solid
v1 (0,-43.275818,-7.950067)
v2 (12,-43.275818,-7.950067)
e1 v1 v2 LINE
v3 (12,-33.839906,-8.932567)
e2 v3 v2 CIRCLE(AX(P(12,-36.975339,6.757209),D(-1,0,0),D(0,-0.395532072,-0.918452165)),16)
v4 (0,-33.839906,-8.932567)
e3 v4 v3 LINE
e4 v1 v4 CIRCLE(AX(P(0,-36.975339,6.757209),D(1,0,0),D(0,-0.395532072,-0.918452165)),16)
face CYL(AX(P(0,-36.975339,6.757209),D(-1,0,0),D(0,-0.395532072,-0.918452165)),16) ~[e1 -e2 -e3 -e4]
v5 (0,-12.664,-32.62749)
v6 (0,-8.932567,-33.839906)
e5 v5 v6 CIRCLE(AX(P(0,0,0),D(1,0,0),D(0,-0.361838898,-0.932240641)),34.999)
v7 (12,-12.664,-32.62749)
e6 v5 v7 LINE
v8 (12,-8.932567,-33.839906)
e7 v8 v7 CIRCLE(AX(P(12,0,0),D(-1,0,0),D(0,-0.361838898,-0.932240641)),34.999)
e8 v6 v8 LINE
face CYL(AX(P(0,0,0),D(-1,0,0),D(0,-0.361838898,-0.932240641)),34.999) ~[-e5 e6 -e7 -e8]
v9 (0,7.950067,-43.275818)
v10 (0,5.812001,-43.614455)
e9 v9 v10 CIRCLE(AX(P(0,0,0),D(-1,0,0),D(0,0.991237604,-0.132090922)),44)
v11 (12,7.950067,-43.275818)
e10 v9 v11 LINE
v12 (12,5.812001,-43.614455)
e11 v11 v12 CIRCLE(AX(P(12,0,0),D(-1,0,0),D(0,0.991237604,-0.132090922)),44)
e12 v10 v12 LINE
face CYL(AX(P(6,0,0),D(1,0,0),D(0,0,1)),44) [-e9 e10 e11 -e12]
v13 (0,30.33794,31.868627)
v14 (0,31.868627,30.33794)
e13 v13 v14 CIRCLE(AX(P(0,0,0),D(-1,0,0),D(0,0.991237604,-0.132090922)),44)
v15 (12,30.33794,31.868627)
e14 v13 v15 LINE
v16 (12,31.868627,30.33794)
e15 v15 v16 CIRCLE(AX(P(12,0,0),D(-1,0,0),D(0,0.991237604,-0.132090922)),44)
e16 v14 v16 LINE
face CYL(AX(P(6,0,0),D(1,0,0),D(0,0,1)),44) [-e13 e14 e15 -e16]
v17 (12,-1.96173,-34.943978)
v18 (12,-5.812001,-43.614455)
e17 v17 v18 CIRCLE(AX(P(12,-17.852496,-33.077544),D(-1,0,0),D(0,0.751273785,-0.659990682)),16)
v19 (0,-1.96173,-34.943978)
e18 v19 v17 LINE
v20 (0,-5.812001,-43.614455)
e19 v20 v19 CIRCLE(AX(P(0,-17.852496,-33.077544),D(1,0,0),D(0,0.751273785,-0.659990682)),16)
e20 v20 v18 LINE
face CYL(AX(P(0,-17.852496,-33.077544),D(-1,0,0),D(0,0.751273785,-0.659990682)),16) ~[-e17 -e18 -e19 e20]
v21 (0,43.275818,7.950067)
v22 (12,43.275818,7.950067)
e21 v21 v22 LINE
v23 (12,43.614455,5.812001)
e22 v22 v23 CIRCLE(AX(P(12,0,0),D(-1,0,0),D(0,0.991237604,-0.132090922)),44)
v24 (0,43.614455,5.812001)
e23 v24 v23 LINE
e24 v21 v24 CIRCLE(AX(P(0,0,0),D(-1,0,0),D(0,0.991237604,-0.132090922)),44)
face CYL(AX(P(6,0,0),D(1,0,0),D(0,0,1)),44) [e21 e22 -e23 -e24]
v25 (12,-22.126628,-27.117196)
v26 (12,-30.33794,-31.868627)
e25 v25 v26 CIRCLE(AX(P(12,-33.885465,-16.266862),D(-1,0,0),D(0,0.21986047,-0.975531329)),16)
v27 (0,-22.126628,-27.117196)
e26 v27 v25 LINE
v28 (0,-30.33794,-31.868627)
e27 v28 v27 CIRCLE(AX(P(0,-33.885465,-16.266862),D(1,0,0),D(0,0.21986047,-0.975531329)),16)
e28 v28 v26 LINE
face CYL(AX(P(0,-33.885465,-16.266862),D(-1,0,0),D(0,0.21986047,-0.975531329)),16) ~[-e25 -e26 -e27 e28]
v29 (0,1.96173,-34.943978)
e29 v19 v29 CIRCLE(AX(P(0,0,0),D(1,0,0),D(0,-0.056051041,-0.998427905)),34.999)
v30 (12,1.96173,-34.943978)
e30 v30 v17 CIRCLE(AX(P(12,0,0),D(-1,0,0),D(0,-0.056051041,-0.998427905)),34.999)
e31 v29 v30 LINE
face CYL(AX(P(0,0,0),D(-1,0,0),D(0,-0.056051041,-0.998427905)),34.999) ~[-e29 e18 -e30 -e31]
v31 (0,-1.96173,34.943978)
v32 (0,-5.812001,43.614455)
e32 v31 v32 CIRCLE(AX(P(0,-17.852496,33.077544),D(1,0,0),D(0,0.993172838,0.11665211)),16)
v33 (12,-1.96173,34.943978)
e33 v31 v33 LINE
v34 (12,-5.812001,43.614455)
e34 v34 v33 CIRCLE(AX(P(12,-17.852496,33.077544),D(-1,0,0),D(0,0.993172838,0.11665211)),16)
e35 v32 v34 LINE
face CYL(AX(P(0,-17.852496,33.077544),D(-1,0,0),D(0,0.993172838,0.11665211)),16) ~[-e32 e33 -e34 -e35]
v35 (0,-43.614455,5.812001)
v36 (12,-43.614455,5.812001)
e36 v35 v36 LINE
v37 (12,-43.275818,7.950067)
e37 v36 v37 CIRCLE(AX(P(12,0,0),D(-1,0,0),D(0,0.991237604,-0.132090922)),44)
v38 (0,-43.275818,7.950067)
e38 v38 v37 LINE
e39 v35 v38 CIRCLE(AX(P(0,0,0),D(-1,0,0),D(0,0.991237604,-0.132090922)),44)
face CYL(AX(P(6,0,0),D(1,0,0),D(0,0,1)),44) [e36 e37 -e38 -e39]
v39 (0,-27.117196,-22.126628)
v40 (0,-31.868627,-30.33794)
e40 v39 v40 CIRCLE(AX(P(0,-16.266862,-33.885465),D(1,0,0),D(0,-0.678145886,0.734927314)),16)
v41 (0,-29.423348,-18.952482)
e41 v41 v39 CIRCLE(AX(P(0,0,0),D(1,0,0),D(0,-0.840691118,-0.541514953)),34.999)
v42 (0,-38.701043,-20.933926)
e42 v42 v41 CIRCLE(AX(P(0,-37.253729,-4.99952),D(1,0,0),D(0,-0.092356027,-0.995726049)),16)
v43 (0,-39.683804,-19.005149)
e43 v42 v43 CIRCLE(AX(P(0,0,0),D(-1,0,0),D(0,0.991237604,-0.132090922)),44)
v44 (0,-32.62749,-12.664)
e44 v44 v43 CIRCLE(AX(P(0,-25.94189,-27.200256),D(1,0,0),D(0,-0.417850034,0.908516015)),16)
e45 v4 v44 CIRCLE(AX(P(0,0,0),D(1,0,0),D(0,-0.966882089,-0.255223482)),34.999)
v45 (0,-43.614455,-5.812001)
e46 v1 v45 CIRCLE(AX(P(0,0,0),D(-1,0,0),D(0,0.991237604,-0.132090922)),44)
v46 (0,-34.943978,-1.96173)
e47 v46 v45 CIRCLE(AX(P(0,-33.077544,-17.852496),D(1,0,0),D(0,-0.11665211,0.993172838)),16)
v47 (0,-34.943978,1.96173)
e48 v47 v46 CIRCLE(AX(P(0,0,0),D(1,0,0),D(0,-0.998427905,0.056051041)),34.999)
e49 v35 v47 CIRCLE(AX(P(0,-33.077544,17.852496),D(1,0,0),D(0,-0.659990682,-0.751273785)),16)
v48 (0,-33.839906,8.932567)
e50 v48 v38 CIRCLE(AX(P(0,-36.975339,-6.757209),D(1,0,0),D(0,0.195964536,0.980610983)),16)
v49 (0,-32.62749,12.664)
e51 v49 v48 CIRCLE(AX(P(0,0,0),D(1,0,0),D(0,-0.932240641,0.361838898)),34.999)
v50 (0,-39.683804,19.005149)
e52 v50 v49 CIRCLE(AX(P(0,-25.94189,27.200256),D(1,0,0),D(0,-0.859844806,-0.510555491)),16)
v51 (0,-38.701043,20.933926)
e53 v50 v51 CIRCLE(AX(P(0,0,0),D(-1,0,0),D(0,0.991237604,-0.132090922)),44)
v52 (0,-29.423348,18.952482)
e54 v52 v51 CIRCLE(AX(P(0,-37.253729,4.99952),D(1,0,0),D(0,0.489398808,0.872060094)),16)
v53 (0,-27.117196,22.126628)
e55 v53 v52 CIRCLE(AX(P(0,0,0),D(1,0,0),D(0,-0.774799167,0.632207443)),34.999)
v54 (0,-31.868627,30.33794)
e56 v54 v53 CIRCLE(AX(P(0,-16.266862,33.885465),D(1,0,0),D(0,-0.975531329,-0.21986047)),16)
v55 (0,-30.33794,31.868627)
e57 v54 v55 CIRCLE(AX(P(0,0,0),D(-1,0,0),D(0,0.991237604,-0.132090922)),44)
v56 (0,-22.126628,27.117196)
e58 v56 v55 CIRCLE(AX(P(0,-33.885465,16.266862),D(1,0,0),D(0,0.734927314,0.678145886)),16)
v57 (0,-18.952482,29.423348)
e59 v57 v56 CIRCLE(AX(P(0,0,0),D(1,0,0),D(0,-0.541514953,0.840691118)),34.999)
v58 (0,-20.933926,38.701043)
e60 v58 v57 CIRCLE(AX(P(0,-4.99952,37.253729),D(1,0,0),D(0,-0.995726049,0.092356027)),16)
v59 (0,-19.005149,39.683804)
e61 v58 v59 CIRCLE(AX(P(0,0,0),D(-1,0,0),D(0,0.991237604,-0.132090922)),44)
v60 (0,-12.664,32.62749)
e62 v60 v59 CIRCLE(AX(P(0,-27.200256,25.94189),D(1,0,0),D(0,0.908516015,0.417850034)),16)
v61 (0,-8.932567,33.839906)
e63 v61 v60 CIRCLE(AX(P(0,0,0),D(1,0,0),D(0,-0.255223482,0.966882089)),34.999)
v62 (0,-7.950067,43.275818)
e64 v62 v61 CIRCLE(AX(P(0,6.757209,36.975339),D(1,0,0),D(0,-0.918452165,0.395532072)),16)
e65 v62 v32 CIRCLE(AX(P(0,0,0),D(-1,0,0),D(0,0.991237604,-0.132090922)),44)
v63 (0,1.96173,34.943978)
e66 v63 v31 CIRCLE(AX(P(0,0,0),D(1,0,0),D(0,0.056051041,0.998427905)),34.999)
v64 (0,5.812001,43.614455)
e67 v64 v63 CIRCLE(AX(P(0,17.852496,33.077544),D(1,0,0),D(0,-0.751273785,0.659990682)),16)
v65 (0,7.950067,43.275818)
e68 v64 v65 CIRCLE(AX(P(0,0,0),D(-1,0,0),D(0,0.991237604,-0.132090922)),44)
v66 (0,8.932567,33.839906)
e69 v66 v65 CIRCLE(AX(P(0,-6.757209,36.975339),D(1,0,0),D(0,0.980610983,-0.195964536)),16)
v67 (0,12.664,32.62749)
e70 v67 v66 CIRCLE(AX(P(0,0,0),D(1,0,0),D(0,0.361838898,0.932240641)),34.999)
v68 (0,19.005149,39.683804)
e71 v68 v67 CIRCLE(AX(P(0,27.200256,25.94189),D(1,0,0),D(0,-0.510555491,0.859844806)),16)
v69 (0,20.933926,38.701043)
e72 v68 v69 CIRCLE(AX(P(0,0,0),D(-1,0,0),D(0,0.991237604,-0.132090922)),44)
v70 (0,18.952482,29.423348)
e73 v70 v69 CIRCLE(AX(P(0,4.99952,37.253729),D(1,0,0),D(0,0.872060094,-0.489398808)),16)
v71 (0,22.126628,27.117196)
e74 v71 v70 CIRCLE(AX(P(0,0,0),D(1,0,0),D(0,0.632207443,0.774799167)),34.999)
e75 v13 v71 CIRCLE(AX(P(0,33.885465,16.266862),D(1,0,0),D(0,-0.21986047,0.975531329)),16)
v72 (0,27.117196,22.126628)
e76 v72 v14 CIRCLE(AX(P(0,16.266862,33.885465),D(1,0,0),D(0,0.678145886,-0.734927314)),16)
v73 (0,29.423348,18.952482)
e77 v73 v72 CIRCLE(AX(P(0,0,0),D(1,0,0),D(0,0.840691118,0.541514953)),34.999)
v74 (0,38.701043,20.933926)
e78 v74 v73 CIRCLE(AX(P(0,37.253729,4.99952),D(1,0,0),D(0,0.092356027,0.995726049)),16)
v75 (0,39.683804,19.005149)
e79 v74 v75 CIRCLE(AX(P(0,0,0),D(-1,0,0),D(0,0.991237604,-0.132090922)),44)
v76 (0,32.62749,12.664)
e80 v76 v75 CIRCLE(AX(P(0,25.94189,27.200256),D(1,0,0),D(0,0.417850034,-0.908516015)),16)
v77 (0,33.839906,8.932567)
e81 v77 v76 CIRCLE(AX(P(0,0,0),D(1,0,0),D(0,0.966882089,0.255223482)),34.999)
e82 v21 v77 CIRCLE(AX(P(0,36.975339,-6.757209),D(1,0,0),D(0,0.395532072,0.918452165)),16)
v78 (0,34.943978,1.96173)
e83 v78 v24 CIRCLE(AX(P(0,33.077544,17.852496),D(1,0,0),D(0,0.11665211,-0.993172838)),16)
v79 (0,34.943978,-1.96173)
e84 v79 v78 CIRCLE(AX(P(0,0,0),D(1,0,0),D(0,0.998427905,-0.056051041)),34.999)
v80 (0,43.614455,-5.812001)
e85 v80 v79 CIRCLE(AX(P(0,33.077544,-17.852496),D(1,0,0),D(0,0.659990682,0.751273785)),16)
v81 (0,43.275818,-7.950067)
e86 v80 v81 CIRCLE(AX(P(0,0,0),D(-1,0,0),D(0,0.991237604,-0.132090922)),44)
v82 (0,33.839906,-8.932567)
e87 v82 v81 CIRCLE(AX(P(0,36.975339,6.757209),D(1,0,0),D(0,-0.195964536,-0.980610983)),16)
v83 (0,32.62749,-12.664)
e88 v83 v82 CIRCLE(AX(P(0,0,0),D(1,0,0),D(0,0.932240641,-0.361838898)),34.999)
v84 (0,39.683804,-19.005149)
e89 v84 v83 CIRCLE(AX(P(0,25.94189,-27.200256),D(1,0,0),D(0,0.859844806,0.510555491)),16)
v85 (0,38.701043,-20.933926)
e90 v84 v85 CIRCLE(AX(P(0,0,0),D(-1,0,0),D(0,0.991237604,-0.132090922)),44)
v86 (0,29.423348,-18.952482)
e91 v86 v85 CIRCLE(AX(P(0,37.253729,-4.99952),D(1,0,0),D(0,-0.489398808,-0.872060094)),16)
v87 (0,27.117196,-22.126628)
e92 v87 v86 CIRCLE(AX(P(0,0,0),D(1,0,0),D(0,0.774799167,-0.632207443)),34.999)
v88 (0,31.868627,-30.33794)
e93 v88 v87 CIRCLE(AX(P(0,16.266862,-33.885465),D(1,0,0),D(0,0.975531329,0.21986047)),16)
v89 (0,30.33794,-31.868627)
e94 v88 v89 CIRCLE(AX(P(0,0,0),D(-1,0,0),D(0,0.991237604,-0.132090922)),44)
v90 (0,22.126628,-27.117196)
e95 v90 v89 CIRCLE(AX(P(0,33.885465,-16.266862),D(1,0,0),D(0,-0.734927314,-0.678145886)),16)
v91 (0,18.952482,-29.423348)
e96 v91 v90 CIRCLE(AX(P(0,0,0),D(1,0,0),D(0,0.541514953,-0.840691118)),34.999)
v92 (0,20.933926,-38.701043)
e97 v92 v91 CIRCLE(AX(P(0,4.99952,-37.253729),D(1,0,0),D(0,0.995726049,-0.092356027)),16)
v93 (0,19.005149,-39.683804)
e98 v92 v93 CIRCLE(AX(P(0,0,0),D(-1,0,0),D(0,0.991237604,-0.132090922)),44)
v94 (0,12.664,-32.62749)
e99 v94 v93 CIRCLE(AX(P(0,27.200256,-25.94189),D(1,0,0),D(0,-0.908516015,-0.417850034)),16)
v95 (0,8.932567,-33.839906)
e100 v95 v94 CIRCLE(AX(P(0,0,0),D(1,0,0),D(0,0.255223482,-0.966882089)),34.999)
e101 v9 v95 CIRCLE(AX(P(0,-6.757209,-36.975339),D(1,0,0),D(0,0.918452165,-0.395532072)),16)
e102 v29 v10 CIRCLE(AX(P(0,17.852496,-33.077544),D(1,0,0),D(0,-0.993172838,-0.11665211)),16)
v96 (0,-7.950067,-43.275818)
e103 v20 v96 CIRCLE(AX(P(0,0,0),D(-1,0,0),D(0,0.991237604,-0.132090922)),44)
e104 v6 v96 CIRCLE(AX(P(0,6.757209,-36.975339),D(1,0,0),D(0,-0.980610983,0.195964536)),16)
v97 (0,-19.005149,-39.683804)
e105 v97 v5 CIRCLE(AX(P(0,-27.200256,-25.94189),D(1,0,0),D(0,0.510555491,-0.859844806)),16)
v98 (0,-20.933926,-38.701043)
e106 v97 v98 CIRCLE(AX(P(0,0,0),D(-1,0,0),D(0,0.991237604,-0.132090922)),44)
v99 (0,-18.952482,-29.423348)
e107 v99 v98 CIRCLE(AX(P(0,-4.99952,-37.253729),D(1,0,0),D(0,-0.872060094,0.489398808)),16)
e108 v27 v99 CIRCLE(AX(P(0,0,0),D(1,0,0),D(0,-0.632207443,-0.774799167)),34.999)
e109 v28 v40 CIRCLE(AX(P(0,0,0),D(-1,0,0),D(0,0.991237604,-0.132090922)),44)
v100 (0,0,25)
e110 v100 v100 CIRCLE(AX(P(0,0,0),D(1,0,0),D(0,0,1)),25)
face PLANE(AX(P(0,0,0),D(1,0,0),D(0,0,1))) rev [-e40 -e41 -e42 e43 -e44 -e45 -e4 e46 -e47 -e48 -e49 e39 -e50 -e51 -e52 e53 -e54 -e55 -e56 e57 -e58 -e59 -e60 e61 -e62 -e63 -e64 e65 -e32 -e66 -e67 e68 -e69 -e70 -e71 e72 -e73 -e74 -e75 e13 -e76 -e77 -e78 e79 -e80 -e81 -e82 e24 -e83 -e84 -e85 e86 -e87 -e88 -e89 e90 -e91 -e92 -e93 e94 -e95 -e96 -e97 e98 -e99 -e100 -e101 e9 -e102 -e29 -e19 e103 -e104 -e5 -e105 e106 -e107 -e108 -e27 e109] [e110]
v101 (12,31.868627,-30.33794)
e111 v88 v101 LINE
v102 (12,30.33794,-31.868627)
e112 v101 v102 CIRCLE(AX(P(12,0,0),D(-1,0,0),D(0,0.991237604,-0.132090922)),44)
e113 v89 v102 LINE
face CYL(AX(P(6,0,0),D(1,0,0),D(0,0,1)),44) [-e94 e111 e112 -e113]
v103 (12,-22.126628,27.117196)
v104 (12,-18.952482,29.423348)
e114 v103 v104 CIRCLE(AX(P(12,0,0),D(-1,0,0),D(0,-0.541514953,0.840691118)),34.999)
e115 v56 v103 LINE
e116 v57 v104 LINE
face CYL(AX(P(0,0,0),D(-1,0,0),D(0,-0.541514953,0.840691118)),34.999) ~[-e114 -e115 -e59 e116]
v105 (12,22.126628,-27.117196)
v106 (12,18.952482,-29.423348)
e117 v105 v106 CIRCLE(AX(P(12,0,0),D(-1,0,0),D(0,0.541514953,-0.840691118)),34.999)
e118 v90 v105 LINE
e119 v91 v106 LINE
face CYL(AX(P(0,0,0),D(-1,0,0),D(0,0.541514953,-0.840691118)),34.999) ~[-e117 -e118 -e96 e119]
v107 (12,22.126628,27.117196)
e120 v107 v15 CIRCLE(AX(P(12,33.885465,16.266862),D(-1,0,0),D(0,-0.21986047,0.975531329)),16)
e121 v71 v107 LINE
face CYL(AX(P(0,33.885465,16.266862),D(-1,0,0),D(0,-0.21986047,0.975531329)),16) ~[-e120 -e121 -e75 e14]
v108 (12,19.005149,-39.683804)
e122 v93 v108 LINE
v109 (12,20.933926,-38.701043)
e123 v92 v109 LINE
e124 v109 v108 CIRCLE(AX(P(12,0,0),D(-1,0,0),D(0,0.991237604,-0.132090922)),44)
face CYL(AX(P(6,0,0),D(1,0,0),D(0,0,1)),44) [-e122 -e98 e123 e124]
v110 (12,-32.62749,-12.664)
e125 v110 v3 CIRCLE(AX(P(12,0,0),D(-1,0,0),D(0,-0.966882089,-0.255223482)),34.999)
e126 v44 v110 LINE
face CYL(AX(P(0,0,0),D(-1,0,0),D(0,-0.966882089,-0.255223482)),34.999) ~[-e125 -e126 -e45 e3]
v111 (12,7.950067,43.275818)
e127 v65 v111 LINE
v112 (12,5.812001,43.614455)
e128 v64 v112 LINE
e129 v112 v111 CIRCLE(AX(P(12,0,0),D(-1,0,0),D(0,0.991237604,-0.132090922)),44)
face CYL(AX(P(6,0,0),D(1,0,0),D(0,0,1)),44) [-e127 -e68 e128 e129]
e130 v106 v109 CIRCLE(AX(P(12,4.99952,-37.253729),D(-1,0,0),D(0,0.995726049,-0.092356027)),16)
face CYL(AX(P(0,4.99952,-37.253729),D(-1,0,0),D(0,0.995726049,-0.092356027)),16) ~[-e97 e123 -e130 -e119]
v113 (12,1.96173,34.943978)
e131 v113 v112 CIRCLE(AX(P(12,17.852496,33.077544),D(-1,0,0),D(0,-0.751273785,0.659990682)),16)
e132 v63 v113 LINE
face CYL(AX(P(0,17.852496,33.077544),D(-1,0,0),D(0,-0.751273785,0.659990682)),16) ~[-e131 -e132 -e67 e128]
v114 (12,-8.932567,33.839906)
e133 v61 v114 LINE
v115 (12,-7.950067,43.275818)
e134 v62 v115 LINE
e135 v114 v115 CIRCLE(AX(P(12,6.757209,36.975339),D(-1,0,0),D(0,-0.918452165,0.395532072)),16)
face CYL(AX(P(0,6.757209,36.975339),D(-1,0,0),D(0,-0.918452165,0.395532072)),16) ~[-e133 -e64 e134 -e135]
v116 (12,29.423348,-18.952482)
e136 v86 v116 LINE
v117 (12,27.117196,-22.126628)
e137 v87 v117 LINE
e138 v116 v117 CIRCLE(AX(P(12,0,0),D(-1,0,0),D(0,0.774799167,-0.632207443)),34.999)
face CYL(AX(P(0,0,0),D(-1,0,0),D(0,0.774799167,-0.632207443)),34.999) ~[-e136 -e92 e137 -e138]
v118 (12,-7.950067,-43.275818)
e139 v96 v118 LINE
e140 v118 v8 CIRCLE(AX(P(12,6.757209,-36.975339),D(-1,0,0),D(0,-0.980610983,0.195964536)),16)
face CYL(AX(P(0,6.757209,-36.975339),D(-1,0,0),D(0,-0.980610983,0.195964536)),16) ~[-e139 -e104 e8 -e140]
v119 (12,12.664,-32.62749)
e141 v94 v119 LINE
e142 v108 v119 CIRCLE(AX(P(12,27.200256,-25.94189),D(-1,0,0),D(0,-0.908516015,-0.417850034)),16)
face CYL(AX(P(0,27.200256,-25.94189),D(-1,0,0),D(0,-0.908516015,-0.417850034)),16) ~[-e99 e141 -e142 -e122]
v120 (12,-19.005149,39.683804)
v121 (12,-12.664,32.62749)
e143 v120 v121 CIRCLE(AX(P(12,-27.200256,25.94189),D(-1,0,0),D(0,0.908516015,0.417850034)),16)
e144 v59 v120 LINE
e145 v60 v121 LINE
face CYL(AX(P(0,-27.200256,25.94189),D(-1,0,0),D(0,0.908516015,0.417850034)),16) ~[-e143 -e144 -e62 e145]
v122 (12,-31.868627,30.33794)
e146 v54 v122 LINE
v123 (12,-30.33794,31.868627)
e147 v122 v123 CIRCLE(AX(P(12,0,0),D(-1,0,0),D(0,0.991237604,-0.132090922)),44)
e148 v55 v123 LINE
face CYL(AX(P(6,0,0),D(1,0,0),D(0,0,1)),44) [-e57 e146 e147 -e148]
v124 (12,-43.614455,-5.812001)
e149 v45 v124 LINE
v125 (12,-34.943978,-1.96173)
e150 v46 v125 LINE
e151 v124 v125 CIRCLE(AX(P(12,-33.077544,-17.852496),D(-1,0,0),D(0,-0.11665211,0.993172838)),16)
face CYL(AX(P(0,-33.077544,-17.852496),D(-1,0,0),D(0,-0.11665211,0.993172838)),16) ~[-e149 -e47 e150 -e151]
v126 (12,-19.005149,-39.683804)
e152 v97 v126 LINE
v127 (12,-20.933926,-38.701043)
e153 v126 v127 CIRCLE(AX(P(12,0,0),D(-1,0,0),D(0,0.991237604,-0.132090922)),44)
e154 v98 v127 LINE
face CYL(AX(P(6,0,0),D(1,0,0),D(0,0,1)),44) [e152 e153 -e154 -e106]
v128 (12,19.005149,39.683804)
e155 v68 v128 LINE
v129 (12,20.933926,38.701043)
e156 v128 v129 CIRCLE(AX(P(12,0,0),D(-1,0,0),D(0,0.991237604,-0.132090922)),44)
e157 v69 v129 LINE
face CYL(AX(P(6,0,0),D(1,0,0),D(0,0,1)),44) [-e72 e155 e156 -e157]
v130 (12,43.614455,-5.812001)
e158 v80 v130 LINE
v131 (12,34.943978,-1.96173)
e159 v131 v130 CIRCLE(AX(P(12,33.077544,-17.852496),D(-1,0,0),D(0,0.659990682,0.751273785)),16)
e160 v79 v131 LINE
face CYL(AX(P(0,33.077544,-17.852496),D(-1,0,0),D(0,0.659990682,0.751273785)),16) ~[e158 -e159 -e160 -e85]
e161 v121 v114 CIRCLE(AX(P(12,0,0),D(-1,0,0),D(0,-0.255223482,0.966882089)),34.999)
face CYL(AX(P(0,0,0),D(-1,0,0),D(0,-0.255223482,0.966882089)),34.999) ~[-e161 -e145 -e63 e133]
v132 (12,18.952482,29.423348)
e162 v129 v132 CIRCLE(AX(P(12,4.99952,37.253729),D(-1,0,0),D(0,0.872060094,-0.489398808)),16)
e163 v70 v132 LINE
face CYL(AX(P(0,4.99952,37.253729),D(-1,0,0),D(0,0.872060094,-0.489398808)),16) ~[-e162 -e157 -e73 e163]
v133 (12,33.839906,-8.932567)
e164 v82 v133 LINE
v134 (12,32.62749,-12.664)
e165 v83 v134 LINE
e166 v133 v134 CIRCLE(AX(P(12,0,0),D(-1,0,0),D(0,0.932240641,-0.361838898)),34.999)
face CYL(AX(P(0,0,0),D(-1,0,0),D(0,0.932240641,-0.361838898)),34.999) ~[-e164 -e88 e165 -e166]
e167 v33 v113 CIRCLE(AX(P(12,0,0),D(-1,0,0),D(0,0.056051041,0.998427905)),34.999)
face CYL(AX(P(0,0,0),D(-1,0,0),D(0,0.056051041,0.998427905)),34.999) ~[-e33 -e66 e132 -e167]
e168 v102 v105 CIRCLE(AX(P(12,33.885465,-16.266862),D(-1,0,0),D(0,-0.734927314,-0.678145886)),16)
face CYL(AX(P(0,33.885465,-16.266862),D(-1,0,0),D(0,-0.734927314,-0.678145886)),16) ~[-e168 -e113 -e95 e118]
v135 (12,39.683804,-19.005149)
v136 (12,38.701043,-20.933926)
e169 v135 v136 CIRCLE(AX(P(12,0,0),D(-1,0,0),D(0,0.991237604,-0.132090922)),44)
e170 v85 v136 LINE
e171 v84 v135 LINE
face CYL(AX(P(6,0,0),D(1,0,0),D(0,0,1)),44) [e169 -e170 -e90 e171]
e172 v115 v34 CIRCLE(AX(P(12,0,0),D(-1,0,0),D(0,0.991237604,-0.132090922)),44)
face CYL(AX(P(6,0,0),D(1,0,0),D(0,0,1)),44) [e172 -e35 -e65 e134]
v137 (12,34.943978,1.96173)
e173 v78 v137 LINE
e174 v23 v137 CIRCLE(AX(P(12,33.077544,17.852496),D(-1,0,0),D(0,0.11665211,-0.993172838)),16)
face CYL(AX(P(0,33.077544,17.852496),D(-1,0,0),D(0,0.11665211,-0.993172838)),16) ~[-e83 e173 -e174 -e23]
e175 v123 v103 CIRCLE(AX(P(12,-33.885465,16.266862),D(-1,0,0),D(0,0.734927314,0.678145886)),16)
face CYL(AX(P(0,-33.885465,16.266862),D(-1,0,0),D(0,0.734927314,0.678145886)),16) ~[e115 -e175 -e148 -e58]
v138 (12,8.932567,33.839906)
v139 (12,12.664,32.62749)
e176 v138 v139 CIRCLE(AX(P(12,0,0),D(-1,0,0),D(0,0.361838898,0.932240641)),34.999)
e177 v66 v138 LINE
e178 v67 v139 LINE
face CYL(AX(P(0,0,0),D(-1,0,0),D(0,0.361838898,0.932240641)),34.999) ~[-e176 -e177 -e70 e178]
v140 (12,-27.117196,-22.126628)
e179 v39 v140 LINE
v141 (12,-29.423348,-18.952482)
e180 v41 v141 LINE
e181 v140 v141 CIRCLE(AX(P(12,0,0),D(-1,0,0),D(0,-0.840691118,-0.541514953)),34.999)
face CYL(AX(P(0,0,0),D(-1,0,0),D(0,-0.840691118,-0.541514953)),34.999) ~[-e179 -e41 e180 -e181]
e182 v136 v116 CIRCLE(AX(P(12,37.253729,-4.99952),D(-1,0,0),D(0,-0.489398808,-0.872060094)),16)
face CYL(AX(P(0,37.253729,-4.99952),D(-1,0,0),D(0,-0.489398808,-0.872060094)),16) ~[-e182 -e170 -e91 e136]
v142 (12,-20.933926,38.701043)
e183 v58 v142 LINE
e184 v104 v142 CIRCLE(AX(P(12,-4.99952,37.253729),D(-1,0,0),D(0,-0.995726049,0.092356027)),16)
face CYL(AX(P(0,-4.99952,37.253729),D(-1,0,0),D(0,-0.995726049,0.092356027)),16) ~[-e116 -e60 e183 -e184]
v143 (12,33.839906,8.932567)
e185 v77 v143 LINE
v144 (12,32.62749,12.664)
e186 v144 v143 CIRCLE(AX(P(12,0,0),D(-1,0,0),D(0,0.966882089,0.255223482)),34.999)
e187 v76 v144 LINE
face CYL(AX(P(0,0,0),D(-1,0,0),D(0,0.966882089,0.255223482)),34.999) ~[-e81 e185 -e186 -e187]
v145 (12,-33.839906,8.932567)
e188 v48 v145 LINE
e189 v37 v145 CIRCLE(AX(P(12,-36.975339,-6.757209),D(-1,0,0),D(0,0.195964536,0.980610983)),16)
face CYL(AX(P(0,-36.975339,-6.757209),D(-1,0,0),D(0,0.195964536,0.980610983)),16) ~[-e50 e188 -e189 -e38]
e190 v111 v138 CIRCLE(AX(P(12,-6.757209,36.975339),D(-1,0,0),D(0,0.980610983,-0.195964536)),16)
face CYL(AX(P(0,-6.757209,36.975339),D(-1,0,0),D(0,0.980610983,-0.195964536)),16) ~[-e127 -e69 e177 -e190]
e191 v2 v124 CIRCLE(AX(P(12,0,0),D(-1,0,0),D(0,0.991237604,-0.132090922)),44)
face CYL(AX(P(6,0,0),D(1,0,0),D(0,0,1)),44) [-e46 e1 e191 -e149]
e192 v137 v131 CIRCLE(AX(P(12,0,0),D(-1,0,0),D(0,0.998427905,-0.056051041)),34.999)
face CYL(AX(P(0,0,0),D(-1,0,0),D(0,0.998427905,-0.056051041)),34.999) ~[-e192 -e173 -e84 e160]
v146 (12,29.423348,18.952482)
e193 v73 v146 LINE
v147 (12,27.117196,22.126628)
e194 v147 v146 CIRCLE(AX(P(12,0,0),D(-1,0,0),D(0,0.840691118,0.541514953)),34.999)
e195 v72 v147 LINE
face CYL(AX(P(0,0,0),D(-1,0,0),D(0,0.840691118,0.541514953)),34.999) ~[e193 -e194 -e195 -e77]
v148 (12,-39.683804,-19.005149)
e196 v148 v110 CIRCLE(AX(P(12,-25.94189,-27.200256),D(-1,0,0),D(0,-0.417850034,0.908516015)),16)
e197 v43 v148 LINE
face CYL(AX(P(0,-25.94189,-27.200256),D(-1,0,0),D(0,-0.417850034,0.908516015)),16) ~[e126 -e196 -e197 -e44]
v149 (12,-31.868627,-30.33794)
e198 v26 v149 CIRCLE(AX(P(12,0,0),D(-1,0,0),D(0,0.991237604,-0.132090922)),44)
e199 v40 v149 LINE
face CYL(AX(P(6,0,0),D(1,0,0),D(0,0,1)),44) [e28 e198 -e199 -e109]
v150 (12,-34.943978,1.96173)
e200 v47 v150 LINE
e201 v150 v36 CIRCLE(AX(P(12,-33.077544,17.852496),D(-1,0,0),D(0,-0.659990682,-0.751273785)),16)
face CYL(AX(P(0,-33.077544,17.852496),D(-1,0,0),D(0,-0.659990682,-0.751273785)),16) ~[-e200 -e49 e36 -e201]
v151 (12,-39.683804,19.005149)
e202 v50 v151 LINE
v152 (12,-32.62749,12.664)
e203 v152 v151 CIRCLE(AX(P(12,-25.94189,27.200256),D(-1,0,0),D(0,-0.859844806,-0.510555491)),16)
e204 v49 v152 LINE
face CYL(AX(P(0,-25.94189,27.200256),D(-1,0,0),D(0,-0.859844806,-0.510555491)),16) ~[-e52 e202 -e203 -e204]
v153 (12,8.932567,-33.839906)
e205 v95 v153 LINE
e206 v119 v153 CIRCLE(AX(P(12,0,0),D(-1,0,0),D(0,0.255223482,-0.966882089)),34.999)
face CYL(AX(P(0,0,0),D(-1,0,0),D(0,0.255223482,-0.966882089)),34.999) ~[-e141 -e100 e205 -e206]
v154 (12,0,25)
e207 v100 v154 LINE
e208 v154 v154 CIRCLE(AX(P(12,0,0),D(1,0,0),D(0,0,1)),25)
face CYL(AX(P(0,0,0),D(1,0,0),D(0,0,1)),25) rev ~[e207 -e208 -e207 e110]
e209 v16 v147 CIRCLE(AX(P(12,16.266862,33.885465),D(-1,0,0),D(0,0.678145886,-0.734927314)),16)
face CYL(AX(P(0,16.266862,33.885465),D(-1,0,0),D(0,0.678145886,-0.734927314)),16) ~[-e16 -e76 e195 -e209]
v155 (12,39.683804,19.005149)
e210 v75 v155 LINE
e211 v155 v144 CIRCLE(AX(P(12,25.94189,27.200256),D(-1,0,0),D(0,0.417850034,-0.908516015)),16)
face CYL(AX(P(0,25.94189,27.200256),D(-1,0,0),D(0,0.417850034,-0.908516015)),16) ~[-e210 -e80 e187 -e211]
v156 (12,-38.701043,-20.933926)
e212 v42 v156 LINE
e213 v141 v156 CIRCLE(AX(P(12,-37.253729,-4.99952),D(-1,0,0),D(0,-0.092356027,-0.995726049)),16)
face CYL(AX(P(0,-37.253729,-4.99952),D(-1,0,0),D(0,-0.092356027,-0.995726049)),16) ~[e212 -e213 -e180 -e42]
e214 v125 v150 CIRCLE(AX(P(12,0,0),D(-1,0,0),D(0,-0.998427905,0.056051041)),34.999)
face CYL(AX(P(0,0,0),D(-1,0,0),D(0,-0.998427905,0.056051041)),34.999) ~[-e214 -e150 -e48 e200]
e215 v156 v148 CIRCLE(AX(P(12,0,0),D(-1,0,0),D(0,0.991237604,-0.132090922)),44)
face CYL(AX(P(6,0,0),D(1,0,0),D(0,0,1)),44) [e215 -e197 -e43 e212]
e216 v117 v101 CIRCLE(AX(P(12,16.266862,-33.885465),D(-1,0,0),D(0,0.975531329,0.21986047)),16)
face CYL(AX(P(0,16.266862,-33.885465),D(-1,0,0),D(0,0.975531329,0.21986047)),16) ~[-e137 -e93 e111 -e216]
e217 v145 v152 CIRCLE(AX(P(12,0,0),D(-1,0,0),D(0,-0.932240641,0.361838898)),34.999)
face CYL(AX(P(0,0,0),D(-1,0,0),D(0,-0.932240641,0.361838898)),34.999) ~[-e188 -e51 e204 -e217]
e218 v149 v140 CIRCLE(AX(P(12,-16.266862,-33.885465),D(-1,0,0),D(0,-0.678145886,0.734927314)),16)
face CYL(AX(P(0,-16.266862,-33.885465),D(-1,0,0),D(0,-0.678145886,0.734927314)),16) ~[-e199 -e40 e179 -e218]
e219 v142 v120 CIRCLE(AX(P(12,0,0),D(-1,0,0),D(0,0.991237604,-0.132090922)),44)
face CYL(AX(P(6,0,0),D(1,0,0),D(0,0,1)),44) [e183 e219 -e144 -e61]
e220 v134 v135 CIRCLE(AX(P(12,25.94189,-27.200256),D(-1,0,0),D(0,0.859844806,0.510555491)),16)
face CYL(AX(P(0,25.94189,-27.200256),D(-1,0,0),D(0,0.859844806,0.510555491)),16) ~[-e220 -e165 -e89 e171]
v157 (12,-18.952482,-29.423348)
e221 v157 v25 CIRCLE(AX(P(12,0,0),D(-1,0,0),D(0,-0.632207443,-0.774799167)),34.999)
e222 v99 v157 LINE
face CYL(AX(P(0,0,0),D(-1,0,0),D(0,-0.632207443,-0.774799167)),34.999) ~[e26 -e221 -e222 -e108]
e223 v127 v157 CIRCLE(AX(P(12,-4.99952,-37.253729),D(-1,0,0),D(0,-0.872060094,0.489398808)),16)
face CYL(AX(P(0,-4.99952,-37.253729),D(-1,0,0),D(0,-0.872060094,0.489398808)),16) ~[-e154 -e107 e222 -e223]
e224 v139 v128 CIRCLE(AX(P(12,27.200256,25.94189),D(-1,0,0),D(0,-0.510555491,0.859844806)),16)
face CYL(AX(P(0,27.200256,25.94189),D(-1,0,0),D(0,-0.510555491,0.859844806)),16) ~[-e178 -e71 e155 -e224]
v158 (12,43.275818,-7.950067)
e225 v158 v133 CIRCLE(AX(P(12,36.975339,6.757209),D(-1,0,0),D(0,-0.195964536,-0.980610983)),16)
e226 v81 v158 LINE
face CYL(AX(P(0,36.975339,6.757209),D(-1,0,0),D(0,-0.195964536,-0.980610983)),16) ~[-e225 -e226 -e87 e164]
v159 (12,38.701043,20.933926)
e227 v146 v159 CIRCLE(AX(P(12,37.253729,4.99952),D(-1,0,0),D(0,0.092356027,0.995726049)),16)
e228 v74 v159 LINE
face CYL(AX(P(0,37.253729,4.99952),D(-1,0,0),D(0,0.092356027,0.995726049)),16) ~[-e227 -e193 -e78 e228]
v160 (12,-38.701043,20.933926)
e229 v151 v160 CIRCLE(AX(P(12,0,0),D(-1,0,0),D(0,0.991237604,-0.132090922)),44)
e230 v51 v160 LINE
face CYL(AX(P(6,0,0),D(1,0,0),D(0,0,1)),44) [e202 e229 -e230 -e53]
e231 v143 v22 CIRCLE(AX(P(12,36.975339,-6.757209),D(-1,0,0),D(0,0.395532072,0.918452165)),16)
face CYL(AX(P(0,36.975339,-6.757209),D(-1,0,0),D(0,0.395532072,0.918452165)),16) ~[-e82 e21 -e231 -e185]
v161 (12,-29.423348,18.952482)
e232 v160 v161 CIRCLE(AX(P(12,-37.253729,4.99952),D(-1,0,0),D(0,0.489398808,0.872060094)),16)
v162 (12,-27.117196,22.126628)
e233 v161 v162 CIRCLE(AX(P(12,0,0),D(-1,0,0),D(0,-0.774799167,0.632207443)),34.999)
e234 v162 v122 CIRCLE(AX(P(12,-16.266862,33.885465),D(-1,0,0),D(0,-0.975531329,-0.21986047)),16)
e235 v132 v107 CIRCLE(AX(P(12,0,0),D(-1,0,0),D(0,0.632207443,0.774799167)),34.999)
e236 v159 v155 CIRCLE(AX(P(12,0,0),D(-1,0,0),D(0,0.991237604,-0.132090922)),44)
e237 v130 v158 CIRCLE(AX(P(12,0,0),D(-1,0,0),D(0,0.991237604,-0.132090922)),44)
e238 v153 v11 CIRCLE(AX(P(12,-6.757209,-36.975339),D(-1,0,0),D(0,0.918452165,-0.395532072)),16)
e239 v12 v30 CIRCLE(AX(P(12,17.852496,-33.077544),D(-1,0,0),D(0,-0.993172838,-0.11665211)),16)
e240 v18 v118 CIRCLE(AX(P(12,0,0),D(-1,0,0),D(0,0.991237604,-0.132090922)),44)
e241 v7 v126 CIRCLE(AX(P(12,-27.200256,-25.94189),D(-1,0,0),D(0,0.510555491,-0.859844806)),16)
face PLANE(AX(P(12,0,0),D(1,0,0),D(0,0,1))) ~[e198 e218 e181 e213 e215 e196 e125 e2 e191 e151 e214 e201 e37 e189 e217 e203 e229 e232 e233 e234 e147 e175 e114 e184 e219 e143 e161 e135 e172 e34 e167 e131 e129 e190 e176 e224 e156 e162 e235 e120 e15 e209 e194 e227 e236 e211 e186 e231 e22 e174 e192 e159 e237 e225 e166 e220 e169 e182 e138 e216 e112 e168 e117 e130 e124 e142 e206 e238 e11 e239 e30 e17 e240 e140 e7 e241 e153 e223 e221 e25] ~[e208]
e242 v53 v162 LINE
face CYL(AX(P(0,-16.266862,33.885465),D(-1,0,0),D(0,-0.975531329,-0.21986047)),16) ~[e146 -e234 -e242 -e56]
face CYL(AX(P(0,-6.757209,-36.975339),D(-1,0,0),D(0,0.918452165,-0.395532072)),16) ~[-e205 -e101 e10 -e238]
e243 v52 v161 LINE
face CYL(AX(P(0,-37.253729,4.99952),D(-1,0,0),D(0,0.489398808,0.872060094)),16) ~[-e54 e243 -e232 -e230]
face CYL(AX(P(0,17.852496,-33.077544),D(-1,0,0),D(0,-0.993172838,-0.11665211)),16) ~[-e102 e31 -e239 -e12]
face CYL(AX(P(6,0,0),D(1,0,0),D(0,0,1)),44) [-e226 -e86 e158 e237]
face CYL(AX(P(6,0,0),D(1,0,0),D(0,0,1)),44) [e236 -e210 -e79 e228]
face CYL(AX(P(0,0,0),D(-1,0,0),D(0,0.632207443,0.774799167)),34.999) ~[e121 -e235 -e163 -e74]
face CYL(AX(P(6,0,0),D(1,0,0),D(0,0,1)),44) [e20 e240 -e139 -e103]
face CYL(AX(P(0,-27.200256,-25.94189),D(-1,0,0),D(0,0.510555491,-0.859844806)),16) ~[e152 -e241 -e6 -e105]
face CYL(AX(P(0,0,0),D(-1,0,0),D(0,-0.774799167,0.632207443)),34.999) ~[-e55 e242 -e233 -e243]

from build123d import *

# Parameters (mm, degrees)
BASPROSKE_W     = 12
BASPROSKE_H     = 44
TOOTHCUT_DEPTH  = 64.371918071
TEETHCUTS_COUNT = 20
TEETHCUTS_ANGLE = 342
BORSKE_R        = 25
BORE_DEPTH      = 50.0000508


with BuildPart() as part:
    # BasProSke → Base-Revolve (revolve)
    with BuildSketch(Plane(origin=(0, 0, 0), x_dir=(1, 0, 0), z_dir=(0, 1, 0)), mode=Mode.PRIVATE) as base_revolve_sk:
        with Locations((6, 22)):
            Rectangle(BASPROSKE_W, BASPROSKE_H)
    revolve(base_revolve_sk.sketch.rotate(Axis((-10, 0, 0), (1, 0, 0)), 180), axis=Axis((-10, 0, 0), (1, 0, 0)))

    # TooCutSke → ToothCut (cut, through all)
    with BuildSketch(Plane(origin=(0, 0, 0), x_dir=(0, 0, -1), z_dir=(1, 0, 0))):
        with BuildLine():
            ThreePointArc((1.961730392, 34.943978235), (0, 34.999), (-1.961730392, 34.943978235))
            ThreePointArc((-1.961730392, 34.943978235), (-3.235659864, 39.585086827), (-5.832115241, 43.637395396))
            ThreePointArc((-5.832115241, 43.637395396), (0, 44.0254), (5.832115241, 43.637395396))
            ThreePointArc((5.832115241, 43.637395396), (3.235659864, 39.585086827), (1.961730392, 34.943978235))
        make_face()
    toothcut = extrude(amount=TOOTHCUT_DEPTH, mode=Mode.SUBTRACT)

    # TeethCuts: ToothCut ×20 about axis
    teethcuts_axis = Axis((-10, 0, 0), (1, 0, 0))
    for i in range(1, TEETHCUTS_COUNT):
        add(toothcut.rotate(teethcuts_axis, i * TEETHCUTS_ANGLE / (TEETHCUTS_COUNT - 1)), mode=Mode.SUBTRACT)

    # BorSke → Bore (cut, symmetric)
    with BuildSketch(Plane(origin=(0, 0, 0), x_dir=(0, 0, -1), z_dir=(1, 0, 0))):
        with Locations(Location((0, 0, 0), (0, 0, 180))):
            Circle(BORSKE_R)
    extrude(amount=BORE_DEPTH, both=True, mode=Mode.SUBTRACT)


solid = part.part
